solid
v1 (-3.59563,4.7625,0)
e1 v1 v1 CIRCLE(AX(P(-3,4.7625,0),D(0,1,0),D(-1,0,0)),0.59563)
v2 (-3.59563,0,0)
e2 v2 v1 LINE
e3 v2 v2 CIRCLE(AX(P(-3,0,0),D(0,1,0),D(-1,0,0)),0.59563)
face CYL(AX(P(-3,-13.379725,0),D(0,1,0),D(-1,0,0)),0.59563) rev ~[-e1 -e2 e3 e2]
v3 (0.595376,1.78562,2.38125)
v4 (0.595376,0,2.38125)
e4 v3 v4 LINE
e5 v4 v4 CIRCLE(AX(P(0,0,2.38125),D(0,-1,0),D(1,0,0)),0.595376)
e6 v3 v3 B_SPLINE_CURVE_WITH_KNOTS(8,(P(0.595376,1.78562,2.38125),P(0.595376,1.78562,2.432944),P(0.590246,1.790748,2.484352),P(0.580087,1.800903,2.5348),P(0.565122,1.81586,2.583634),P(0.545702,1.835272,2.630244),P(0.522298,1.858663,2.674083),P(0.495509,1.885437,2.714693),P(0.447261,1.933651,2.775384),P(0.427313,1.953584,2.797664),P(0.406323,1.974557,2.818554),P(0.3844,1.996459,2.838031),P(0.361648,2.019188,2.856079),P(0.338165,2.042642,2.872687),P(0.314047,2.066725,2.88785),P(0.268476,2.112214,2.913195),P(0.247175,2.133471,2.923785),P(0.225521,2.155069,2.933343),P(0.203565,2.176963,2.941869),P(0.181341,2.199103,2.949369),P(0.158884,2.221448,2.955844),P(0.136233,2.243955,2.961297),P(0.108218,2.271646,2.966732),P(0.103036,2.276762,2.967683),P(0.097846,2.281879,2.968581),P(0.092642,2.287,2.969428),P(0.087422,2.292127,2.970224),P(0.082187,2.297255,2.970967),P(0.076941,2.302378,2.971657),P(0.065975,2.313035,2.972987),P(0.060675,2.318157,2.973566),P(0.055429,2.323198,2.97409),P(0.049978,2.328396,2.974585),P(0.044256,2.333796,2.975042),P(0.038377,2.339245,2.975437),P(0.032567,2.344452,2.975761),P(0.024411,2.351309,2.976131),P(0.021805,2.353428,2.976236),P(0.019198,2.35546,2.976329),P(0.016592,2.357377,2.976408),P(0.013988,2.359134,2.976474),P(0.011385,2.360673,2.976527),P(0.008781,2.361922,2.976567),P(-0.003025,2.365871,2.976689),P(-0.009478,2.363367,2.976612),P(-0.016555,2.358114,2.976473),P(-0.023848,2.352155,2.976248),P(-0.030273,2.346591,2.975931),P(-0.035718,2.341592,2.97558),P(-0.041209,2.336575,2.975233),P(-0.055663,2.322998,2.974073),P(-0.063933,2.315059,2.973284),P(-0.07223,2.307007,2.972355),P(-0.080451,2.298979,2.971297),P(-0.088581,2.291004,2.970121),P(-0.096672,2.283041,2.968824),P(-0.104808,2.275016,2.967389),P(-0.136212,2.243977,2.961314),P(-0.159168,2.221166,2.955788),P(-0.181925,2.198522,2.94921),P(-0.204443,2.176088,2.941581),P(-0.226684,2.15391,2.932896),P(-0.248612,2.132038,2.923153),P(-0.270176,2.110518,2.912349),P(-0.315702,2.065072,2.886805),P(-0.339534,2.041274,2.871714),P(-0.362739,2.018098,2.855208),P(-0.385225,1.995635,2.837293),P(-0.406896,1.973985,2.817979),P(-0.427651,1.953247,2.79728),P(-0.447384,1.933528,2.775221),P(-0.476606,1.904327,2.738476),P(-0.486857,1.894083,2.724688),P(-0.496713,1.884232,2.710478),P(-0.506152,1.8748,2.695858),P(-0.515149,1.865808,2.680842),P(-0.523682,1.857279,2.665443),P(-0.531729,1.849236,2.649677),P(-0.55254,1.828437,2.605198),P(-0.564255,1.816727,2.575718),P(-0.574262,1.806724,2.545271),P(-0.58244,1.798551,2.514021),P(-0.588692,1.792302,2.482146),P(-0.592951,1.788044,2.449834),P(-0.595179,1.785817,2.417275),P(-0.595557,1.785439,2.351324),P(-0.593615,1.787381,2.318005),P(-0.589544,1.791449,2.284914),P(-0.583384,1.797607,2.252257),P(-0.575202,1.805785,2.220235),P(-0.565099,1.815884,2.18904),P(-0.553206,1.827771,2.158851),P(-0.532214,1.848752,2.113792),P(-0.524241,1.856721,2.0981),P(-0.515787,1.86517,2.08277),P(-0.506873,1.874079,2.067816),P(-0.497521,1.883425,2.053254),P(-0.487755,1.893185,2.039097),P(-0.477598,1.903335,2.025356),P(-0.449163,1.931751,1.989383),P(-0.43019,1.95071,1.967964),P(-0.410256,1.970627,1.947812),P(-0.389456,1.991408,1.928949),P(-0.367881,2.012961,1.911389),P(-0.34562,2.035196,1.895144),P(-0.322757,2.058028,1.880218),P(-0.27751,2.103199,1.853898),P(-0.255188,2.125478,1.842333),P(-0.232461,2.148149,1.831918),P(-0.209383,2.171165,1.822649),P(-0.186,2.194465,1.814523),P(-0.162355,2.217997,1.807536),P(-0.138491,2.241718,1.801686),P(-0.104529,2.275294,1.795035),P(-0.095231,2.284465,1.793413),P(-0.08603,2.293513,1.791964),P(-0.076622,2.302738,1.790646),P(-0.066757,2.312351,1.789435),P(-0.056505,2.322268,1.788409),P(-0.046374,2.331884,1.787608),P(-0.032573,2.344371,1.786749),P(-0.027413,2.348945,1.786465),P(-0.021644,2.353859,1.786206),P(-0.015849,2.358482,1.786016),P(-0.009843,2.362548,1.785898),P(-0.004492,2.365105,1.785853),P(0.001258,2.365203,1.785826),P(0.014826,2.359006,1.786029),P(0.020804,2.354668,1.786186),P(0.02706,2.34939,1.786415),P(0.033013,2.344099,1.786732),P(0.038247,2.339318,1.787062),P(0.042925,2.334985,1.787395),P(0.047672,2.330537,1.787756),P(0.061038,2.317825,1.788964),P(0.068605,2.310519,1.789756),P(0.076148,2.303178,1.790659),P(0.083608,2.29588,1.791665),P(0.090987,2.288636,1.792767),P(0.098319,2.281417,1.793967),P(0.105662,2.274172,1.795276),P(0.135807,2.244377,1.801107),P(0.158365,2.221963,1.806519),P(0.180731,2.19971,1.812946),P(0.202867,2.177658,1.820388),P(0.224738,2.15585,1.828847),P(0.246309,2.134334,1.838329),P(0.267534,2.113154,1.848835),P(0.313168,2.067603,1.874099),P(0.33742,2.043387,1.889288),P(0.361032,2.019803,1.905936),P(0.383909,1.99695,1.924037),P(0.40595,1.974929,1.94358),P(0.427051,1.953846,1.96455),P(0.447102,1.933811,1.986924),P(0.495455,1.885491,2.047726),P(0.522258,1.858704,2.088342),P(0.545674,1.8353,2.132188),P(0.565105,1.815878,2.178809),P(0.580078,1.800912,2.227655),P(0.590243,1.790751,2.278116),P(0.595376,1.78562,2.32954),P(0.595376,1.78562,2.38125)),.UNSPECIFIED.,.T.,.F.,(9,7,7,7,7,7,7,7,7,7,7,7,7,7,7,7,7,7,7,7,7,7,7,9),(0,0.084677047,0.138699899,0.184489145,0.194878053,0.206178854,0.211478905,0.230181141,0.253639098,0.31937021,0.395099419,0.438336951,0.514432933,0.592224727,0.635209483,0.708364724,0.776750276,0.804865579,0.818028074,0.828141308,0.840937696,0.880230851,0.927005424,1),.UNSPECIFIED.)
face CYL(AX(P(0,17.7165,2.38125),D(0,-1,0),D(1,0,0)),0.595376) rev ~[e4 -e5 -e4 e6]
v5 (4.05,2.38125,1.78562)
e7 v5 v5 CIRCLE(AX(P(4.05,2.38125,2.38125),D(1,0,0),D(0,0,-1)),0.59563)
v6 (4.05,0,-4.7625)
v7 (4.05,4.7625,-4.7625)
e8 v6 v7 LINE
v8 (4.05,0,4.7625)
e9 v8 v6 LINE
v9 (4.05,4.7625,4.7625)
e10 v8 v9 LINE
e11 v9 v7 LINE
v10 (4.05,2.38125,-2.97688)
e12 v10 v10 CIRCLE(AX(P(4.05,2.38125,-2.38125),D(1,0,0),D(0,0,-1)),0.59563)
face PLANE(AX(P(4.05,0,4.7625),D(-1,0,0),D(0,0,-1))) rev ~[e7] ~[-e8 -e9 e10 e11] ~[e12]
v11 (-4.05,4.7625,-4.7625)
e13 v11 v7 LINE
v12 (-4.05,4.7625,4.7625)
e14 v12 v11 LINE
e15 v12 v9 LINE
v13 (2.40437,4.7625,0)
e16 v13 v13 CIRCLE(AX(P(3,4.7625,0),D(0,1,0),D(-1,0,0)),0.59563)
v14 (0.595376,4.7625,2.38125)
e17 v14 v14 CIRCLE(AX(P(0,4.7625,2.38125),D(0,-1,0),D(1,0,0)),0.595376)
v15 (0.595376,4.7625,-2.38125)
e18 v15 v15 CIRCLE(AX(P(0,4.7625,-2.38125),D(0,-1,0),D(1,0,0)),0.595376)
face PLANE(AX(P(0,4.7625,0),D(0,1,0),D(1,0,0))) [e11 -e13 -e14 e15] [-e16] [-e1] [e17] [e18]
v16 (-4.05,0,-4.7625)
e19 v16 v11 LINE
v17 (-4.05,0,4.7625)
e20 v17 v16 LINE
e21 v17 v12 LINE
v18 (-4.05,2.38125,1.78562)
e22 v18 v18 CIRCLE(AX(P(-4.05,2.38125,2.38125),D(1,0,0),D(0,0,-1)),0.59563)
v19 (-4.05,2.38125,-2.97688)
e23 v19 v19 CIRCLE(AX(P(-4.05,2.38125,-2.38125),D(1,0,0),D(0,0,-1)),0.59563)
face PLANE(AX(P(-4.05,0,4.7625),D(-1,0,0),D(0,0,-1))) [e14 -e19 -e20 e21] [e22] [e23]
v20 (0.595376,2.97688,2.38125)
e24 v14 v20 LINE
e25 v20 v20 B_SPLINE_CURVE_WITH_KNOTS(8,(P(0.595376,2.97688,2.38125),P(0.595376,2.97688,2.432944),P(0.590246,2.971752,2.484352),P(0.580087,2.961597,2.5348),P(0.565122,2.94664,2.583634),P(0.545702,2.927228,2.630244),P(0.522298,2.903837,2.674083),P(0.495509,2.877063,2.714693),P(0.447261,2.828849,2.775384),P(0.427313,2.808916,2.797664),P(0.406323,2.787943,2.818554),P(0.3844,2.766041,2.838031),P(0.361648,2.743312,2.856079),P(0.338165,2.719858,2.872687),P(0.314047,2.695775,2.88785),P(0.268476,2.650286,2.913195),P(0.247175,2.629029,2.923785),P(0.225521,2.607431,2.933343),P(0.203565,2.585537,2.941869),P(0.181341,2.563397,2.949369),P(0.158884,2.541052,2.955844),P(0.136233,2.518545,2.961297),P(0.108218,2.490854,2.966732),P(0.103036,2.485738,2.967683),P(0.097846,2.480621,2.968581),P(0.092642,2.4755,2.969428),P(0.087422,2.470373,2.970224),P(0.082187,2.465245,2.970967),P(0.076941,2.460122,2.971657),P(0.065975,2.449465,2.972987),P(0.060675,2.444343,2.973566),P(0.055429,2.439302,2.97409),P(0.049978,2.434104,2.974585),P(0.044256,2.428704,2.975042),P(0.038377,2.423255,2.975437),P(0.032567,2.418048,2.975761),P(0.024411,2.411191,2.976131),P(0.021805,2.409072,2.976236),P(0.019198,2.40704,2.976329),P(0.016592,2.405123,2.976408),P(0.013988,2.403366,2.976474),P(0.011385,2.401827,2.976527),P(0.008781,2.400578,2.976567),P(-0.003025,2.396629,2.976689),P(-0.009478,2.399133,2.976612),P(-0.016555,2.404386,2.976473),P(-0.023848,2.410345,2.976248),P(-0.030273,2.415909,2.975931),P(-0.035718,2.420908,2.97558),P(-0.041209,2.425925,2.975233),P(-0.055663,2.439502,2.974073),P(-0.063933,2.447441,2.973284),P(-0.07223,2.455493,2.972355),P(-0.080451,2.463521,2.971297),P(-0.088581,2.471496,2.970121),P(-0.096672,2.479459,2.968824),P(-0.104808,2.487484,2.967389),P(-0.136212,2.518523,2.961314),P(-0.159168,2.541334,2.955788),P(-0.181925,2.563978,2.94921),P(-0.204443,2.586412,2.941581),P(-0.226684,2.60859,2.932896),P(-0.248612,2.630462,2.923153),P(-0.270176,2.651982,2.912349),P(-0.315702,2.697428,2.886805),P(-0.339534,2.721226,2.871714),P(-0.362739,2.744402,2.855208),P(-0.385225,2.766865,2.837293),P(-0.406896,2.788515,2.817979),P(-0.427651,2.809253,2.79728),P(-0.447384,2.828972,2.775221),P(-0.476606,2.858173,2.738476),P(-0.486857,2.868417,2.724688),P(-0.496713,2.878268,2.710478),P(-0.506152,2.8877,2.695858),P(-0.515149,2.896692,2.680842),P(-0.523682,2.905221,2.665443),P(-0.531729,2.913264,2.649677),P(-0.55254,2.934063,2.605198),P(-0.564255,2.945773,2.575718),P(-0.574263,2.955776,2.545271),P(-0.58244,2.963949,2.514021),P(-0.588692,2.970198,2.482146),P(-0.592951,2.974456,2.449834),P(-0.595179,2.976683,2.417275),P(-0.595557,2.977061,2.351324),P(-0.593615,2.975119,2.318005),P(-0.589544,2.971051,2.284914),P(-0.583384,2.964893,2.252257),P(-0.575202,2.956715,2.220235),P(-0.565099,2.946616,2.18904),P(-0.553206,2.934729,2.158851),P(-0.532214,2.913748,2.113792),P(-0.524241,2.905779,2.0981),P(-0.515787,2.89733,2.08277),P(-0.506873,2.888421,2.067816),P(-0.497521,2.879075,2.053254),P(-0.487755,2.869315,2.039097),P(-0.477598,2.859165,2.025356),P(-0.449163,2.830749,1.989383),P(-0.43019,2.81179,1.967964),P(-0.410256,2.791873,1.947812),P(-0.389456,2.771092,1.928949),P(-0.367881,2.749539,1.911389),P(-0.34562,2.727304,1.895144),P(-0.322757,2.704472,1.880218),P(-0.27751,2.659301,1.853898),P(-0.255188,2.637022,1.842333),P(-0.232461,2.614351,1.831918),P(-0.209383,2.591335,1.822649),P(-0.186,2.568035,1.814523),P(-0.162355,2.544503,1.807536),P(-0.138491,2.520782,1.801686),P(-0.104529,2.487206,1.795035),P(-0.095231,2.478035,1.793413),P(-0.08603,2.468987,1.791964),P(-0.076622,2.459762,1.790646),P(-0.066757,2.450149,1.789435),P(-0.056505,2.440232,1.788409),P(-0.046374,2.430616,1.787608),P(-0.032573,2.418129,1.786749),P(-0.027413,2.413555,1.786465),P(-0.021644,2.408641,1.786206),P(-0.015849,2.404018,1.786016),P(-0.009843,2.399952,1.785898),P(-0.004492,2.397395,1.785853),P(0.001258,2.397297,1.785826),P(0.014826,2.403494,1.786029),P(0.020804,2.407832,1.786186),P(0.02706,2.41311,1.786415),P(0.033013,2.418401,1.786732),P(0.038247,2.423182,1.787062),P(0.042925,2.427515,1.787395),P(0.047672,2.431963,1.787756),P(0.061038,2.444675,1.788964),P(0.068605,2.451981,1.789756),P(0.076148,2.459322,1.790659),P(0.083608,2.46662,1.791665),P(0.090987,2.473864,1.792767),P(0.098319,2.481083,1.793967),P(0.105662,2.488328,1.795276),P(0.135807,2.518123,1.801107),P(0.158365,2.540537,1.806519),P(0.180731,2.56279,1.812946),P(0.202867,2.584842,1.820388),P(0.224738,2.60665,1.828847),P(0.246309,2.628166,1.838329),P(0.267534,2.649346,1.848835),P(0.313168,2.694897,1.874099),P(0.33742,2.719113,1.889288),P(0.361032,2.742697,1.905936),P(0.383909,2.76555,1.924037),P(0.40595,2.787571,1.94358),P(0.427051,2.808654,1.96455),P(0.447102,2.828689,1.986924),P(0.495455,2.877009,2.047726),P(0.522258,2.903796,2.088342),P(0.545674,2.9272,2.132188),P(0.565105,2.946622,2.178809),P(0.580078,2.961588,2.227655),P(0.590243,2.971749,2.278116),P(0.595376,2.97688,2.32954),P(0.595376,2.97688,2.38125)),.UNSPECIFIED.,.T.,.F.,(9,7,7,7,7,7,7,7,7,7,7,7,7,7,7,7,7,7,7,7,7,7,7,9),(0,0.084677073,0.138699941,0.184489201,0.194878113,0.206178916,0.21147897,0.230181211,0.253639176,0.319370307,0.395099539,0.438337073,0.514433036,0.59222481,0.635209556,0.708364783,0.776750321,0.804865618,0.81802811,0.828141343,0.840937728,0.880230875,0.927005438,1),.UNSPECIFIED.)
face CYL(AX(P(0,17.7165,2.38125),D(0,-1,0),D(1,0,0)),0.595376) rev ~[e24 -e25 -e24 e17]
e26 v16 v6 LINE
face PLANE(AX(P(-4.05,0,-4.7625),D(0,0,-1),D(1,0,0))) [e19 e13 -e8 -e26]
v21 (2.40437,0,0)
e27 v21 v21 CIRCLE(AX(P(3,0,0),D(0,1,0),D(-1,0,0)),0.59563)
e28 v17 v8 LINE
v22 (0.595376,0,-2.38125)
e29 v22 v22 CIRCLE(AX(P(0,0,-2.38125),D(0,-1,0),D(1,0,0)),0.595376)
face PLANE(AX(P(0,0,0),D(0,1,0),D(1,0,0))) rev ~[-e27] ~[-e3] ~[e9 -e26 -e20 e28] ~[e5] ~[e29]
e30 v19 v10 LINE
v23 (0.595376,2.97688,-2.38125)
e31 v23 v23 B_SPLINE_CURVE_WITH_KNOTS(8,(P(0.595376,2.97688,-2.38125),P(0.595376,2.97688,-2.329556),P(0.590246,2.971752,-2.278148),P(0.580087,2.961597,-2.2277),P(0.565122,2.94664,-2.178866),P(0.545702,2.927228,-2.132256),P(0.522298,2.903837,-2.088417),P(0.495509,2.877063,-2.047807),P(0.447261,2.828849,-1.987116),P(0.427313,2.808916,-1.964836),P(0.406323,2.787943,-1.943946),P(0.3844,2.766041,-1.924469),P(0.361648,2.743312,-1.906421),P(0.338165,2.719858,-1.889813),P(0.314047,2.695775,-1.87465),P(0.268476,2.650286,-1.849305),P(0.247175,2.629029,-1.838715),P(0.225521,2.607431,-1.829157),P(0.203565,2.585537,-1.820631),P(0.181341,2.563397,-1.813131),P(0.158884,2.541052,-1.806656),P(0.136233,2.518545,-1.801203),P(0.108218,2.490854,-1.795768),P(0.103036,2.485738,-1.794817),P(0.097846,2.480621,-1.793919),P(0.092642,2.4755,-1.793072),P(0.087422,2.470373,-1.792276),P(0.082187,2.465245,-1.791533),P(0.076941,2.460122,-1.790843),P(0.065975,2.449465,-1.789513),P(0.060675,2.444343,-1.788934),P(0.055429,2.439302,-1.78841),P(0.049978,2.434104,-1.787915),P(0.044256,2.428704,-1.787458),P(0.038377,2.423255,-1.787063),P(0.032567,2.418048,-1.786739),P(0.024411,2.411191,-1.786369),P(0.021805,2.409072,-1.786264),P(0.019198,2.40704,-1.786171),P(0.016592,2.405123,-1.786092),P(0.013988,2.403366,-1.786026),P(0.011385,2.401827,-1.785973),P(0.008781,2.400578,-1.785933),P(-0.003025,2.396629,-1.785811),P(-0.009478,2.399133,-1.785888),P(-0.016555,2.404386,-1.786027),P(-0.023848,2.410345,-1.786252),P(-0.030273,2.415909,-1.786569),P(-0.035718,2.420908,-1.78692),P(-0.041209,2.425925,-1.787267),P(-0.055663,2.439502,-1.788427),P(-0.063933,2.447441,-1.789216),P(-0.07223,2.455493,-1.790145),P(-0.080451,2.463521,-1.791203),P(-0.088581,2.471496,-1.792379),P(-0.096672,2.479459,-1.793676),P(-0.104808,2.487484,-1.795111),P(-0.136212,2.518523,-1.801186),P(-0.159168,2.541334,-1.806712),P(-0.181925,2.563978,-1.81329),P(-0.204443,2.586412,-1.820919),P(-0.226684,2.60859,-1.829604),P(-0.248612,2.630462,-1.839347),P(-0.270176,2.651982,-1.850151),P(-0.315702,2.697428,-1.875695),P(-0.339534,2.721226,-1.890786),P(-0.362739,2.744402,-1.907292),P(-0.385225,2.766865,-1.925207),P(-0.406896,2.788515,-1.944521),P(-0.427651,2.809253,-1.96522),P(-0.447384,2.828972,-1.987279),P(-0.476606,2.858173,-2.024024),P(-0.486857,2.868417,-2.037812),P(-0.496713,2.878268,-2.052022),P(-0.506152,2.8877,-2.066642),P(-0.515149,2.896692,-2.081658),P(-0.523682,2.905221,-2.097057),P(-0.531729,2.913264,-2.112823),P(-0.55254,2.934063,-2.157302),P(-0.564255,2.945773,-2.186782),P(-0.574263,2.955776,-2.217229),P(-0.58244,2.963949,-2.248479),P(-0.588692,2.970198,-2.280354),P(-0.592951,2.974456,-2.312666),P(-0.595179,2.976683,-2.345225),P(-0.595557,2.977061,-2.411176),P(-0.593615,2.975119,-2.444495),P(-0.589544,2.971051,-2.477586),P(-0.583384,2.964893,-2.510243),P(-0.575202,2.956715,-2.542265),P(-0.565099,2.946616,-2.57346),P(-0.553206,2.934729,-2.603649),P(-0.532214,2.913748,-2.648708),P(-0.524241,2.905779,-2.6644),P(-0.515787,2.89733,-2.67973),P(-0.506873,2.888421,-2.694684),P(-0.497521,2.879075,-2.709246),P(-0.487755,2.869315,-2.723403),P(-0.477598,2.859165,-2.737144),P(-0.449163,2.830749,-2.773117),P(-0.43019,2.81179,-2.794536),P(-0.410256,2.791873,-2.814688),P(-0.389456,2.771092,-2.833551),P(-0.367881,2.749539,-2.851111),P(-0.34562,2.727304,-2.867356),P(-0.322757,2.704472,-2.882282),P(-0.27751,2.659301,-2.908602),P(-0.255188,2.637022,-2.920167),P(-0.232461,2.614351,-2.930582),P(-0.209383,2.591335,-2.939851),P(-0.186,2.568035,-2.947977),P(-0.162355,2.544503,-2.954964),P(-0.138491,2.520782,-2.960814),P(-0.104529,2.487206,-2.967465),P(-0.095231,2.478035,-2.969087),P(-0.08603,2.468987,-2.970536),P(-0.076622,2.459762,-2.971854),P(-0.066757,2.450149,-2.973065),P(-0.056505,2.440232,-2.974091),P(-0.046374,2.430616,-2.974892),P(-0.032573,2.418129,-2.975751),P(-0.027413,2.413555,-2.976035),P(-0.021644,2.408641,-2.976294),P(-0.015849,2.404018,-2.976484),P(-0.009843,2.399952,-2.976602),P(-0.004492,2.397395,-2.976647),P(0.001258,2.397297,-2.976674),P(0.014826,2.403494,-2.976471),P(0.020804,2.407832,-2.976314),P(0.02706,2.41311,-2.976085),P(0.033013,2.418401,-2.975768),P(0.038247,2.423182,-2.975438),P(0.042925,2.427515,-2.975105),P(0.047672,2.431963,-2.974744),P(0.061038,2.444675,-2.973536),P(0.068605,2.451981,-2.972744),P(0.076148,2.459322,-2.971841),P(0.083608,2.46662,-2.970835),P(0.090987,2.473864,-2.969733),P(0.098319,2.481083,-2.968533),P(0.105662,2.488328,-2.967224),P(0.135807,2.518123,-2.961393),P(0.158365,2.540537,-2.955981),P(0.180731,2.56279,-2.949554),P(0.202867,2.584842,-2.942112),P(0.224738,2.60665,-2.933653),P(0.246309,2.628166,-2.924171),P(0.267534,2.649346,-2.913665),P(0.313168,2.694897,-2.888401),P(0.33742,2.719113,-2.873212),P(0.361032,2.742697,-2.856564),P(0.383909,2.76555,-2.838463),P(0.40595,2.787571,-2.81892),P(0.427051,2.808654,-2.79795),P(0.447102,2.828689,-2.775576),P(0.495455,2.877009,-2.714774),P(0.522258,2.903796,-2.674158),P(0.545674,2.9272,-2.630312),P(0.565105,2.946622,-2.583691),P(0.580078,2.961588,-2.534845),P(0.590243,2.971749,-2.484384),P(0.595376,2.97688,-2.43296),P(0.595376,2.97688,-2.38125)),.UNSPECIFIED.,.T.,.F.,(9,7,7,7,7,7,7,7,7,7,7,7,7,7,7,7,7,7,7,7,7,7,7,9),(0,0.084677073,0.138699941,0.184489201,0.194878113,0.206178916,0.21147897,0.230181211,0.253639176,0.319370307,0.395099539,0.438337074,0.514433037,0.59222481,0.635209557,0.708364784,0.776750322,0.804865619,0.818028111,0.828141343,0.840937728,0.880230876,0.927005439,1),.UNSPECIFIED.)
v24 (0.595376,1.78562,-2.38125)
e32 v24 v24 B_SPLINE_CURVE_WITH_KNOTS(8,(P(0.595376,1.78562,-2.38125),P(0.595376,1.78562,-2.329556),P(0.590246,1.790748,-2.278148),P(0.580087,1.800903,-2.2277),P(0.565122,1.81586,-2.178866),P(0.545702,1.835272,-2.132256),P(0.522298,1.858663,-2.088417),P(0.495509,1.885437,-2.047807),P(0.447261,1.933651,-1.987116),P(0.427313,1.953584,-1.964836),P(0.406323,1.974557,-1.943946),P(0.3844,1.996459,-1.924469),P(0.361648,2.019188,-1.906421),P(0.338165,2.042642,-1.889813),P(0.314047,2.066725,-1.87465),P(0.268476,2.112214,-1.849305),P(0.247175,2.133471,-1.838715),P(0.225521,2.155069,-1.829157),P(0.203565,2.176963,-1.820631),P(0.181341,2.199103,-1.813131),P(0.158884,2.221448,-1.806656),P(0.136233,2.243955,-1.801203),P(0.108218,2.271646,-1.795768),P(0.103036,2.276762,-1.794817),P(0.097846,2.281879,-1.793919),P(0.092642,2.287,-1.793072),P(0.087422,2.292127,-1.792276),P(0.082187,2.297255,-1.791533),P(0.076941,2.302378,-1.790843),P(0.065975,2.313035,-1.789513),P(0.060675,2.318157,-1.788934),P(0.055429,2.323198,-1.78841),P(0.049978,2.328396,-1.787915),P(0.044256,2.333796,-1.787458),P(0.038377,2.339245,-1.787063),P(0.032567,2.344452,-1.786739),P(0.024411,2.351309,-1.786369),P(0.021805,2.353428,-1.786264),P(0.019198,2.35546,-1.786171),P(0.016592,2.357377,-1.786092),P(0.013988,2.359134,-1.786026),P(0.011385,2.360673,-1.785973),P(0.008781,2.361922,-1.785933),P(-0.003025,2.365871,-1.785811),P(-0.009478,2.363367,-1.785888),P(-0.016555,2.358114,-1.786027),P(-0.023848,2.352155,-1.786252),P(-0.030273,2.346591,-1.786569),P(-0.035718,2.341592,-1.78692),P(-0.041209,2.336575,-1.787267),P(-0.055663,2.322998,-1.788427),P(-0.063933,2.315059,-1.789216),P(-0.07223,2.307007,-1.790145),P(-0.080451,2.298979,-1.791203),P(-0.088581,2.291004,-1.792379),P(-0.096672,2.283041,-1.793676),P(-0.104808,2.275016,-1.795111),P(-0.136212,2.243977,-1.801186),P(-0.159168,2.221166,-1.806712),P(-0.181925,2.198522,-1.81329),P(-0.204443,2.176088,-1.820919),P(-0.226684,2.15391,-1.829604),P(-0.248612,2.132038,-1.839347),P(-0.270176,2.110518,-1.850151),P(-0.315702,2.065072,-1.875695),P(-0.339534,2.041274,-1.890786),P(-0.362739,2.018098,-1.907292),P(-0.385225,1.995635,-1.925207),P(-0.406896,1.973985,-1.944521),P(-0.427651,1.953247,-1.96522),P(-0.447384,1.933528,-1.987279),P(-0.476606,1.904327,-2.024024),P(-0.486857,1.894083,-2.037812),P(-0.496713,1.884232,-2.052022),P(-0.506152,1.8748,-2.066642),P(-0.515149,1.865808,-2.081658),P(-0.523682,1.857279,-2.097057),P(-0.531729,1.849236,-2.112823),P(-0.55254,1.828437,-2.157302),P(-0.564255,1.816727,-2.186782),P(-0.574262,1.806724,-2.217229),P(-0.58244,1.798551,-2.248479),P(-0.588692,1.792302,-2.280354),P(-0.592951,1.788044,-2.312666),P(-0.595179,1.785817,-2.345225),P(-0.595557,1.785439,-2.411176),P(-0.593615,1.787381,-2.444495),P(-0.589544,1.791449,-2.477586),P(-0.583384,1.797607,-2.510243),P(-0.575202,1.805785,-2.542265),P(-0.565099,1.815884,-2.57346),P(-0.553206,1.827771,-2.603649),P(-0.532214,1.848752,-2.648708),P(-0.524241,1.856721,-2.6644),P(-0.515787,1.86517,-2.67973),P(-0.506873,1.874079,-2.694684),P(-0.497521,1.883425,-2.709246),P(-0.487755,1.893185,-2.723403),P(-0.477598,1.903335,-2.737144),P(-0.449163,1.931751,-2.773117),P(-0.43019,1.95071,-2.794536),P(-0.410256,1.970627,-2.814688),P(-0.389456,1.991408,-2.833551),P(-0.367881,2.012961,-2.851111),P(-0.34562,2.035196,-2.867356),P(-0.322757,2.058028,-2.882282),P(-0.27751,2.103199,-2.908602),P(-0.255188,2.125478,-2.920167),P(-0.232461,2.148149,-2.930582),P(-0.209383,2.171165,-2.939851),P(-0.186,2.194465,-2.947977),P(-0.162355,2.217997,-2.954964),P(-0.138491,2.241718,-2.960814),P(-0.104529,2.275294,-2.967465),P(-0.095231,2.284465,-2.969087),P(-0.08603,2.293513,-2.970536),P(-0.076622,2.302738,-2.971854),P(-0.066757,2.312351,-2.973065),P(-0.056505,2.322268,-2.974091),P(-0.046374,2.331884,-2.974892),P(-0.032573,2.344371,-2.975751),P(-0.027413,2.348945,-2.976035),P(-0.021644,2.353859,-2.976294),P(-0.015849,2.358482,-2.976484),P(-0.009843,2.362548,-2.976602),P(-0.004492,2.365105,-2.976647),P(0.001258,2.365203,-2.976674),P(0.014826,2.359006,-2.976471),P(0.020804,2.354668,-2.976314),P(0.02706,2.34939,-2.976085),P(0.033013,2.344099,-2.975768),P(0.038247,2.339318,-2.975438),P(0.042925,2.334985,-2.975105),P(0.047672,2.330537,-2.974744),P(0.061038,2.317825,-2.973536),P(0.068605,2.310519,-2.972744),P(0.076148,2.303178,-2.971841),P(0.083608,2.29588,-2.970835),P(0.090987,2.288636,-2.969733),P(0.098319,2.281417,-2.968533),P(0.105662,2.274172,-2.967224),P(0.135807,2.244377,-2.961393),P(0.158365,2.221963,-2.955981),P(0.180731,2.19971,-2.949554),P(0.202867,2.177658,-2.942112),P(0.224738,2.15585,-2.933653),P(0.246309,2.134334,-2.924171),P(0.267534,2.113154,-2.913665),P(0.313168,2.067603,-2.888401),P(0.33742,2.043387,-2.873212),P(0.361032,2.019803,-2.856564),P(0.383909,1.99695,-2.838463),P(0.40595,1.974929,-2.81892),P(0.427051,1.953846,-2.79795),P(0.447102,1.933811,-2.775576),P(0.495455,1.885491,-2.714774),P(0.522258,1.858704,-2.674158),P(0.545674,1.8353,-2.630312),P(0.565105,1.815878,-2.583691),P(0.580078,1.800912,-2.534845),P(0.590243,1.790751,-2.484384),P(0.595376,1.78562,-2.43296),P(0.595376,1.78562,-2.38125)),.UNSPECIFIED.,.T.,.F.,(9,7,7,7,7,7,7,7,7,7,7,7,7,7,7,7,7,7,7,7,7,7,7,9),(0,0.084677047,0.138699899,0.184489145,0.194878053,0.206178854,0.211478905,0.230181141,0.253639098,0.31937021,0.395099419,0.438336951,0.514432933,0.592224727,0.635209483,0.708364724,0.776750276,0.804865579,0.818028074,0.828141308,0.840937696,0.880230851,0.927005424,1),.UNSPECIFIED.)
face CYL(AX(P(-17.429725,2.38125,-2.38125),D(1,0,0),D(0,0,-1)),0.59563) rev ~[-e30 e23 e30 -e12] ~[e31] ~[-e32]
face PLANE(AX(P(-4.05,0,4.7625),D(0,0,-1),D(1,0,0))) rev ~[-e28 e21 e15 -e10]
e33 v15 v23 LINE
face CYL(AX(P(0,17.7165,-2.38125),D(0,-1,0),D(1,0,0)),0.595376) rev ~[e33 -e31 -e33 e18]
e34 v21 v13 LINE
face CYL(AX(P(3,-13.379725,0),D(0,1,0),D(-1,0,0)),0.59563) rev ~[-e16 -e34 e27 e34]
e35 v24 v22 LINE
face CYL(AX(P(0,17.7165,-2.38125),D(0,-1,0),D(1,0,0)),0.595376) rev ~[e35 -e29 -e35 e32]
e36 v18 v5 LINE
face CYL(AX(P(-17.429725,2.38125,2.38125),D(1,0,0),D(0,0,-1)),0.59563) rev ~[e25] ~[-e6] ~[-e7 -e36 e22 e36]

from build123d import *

# Parameters (mm, degrees)
SKETCH1_W                           = 8.1
SKETCH1_H                           = 9.525
BOSS_EXTRUDE1_DEPTH                 = 4.7625
F_0_80_TAPPED_HOLE1_D               = 1.19126
F_0_80_TAPPED_HOLE2_D               = 1.19126
F_3_64_0_04688_DIAMETER_HOLE1_D     = 1.190752
F_3_64_0_04688_DIAMETER_HOLE1_DEPTH = 12.954
F_3_64_0_04688_DIAMETER_HOLE1_TIP   = 0.357737992


with BuildPart() as part:
    # Sketch1 → Boss-Extrude1 (new body)
    with BuildSketch(Plane(origin=(0, 0, 0), x_dir=(1, 0, 0), z_dir=(0, 1, 0))):
        Rectangle(SKETCH1_W, SKETCH1_H)
    extrude(amount=BOSS_EXTRUDE1_DEPTH)

    # #0-80 Tapped Hole1 (through all)
    with Locations(Plane.ZY.offset(4.05)):
        with Locations((-2.38125, 2.38125), (2.38125, 2.38125)):
            Hole(F_0_80_TAPPED_HOLE1_D / 2)

    # #0-80 Tapped Hole2 (through all)
    with Locations(Plane.XZ):
        with Locations((-3, 0), (3, 0)):
            Hole(F_0_80_TAPPED_HOLE2_D / 2)

    # 3/64 (0.04688) Diameter Hole1
    with Locations(Plane(origin=(0, 4.7625, 0), x_dir=(-1, 0, 0), z_dir=(0, 1, 0))):
        with Locations((0, 2.38125), (0, -2.38125)):
            Hole(F_3_64_0_04688_DIAMETER_HOLE1_D / 2, depth=F_3_64_0_04688_DIAMETER_HOLE1_DEPTH)
            with Locations((0, 0, -(F_3_64_0_04688_DIAMETER_HOLE1_DEPTH + F_3_64_0_04688_DIAMETER_HOLE1_TIP / 2))):  # 118° drill point
                Cone(0, F_3_64_0_04688_DIAMETER_HOLE1_D / 2, F_3_64_0_04688_DIAMETER_HOLE1_TIP, mode=Mode.SUBTRACT)


solid = part.part
